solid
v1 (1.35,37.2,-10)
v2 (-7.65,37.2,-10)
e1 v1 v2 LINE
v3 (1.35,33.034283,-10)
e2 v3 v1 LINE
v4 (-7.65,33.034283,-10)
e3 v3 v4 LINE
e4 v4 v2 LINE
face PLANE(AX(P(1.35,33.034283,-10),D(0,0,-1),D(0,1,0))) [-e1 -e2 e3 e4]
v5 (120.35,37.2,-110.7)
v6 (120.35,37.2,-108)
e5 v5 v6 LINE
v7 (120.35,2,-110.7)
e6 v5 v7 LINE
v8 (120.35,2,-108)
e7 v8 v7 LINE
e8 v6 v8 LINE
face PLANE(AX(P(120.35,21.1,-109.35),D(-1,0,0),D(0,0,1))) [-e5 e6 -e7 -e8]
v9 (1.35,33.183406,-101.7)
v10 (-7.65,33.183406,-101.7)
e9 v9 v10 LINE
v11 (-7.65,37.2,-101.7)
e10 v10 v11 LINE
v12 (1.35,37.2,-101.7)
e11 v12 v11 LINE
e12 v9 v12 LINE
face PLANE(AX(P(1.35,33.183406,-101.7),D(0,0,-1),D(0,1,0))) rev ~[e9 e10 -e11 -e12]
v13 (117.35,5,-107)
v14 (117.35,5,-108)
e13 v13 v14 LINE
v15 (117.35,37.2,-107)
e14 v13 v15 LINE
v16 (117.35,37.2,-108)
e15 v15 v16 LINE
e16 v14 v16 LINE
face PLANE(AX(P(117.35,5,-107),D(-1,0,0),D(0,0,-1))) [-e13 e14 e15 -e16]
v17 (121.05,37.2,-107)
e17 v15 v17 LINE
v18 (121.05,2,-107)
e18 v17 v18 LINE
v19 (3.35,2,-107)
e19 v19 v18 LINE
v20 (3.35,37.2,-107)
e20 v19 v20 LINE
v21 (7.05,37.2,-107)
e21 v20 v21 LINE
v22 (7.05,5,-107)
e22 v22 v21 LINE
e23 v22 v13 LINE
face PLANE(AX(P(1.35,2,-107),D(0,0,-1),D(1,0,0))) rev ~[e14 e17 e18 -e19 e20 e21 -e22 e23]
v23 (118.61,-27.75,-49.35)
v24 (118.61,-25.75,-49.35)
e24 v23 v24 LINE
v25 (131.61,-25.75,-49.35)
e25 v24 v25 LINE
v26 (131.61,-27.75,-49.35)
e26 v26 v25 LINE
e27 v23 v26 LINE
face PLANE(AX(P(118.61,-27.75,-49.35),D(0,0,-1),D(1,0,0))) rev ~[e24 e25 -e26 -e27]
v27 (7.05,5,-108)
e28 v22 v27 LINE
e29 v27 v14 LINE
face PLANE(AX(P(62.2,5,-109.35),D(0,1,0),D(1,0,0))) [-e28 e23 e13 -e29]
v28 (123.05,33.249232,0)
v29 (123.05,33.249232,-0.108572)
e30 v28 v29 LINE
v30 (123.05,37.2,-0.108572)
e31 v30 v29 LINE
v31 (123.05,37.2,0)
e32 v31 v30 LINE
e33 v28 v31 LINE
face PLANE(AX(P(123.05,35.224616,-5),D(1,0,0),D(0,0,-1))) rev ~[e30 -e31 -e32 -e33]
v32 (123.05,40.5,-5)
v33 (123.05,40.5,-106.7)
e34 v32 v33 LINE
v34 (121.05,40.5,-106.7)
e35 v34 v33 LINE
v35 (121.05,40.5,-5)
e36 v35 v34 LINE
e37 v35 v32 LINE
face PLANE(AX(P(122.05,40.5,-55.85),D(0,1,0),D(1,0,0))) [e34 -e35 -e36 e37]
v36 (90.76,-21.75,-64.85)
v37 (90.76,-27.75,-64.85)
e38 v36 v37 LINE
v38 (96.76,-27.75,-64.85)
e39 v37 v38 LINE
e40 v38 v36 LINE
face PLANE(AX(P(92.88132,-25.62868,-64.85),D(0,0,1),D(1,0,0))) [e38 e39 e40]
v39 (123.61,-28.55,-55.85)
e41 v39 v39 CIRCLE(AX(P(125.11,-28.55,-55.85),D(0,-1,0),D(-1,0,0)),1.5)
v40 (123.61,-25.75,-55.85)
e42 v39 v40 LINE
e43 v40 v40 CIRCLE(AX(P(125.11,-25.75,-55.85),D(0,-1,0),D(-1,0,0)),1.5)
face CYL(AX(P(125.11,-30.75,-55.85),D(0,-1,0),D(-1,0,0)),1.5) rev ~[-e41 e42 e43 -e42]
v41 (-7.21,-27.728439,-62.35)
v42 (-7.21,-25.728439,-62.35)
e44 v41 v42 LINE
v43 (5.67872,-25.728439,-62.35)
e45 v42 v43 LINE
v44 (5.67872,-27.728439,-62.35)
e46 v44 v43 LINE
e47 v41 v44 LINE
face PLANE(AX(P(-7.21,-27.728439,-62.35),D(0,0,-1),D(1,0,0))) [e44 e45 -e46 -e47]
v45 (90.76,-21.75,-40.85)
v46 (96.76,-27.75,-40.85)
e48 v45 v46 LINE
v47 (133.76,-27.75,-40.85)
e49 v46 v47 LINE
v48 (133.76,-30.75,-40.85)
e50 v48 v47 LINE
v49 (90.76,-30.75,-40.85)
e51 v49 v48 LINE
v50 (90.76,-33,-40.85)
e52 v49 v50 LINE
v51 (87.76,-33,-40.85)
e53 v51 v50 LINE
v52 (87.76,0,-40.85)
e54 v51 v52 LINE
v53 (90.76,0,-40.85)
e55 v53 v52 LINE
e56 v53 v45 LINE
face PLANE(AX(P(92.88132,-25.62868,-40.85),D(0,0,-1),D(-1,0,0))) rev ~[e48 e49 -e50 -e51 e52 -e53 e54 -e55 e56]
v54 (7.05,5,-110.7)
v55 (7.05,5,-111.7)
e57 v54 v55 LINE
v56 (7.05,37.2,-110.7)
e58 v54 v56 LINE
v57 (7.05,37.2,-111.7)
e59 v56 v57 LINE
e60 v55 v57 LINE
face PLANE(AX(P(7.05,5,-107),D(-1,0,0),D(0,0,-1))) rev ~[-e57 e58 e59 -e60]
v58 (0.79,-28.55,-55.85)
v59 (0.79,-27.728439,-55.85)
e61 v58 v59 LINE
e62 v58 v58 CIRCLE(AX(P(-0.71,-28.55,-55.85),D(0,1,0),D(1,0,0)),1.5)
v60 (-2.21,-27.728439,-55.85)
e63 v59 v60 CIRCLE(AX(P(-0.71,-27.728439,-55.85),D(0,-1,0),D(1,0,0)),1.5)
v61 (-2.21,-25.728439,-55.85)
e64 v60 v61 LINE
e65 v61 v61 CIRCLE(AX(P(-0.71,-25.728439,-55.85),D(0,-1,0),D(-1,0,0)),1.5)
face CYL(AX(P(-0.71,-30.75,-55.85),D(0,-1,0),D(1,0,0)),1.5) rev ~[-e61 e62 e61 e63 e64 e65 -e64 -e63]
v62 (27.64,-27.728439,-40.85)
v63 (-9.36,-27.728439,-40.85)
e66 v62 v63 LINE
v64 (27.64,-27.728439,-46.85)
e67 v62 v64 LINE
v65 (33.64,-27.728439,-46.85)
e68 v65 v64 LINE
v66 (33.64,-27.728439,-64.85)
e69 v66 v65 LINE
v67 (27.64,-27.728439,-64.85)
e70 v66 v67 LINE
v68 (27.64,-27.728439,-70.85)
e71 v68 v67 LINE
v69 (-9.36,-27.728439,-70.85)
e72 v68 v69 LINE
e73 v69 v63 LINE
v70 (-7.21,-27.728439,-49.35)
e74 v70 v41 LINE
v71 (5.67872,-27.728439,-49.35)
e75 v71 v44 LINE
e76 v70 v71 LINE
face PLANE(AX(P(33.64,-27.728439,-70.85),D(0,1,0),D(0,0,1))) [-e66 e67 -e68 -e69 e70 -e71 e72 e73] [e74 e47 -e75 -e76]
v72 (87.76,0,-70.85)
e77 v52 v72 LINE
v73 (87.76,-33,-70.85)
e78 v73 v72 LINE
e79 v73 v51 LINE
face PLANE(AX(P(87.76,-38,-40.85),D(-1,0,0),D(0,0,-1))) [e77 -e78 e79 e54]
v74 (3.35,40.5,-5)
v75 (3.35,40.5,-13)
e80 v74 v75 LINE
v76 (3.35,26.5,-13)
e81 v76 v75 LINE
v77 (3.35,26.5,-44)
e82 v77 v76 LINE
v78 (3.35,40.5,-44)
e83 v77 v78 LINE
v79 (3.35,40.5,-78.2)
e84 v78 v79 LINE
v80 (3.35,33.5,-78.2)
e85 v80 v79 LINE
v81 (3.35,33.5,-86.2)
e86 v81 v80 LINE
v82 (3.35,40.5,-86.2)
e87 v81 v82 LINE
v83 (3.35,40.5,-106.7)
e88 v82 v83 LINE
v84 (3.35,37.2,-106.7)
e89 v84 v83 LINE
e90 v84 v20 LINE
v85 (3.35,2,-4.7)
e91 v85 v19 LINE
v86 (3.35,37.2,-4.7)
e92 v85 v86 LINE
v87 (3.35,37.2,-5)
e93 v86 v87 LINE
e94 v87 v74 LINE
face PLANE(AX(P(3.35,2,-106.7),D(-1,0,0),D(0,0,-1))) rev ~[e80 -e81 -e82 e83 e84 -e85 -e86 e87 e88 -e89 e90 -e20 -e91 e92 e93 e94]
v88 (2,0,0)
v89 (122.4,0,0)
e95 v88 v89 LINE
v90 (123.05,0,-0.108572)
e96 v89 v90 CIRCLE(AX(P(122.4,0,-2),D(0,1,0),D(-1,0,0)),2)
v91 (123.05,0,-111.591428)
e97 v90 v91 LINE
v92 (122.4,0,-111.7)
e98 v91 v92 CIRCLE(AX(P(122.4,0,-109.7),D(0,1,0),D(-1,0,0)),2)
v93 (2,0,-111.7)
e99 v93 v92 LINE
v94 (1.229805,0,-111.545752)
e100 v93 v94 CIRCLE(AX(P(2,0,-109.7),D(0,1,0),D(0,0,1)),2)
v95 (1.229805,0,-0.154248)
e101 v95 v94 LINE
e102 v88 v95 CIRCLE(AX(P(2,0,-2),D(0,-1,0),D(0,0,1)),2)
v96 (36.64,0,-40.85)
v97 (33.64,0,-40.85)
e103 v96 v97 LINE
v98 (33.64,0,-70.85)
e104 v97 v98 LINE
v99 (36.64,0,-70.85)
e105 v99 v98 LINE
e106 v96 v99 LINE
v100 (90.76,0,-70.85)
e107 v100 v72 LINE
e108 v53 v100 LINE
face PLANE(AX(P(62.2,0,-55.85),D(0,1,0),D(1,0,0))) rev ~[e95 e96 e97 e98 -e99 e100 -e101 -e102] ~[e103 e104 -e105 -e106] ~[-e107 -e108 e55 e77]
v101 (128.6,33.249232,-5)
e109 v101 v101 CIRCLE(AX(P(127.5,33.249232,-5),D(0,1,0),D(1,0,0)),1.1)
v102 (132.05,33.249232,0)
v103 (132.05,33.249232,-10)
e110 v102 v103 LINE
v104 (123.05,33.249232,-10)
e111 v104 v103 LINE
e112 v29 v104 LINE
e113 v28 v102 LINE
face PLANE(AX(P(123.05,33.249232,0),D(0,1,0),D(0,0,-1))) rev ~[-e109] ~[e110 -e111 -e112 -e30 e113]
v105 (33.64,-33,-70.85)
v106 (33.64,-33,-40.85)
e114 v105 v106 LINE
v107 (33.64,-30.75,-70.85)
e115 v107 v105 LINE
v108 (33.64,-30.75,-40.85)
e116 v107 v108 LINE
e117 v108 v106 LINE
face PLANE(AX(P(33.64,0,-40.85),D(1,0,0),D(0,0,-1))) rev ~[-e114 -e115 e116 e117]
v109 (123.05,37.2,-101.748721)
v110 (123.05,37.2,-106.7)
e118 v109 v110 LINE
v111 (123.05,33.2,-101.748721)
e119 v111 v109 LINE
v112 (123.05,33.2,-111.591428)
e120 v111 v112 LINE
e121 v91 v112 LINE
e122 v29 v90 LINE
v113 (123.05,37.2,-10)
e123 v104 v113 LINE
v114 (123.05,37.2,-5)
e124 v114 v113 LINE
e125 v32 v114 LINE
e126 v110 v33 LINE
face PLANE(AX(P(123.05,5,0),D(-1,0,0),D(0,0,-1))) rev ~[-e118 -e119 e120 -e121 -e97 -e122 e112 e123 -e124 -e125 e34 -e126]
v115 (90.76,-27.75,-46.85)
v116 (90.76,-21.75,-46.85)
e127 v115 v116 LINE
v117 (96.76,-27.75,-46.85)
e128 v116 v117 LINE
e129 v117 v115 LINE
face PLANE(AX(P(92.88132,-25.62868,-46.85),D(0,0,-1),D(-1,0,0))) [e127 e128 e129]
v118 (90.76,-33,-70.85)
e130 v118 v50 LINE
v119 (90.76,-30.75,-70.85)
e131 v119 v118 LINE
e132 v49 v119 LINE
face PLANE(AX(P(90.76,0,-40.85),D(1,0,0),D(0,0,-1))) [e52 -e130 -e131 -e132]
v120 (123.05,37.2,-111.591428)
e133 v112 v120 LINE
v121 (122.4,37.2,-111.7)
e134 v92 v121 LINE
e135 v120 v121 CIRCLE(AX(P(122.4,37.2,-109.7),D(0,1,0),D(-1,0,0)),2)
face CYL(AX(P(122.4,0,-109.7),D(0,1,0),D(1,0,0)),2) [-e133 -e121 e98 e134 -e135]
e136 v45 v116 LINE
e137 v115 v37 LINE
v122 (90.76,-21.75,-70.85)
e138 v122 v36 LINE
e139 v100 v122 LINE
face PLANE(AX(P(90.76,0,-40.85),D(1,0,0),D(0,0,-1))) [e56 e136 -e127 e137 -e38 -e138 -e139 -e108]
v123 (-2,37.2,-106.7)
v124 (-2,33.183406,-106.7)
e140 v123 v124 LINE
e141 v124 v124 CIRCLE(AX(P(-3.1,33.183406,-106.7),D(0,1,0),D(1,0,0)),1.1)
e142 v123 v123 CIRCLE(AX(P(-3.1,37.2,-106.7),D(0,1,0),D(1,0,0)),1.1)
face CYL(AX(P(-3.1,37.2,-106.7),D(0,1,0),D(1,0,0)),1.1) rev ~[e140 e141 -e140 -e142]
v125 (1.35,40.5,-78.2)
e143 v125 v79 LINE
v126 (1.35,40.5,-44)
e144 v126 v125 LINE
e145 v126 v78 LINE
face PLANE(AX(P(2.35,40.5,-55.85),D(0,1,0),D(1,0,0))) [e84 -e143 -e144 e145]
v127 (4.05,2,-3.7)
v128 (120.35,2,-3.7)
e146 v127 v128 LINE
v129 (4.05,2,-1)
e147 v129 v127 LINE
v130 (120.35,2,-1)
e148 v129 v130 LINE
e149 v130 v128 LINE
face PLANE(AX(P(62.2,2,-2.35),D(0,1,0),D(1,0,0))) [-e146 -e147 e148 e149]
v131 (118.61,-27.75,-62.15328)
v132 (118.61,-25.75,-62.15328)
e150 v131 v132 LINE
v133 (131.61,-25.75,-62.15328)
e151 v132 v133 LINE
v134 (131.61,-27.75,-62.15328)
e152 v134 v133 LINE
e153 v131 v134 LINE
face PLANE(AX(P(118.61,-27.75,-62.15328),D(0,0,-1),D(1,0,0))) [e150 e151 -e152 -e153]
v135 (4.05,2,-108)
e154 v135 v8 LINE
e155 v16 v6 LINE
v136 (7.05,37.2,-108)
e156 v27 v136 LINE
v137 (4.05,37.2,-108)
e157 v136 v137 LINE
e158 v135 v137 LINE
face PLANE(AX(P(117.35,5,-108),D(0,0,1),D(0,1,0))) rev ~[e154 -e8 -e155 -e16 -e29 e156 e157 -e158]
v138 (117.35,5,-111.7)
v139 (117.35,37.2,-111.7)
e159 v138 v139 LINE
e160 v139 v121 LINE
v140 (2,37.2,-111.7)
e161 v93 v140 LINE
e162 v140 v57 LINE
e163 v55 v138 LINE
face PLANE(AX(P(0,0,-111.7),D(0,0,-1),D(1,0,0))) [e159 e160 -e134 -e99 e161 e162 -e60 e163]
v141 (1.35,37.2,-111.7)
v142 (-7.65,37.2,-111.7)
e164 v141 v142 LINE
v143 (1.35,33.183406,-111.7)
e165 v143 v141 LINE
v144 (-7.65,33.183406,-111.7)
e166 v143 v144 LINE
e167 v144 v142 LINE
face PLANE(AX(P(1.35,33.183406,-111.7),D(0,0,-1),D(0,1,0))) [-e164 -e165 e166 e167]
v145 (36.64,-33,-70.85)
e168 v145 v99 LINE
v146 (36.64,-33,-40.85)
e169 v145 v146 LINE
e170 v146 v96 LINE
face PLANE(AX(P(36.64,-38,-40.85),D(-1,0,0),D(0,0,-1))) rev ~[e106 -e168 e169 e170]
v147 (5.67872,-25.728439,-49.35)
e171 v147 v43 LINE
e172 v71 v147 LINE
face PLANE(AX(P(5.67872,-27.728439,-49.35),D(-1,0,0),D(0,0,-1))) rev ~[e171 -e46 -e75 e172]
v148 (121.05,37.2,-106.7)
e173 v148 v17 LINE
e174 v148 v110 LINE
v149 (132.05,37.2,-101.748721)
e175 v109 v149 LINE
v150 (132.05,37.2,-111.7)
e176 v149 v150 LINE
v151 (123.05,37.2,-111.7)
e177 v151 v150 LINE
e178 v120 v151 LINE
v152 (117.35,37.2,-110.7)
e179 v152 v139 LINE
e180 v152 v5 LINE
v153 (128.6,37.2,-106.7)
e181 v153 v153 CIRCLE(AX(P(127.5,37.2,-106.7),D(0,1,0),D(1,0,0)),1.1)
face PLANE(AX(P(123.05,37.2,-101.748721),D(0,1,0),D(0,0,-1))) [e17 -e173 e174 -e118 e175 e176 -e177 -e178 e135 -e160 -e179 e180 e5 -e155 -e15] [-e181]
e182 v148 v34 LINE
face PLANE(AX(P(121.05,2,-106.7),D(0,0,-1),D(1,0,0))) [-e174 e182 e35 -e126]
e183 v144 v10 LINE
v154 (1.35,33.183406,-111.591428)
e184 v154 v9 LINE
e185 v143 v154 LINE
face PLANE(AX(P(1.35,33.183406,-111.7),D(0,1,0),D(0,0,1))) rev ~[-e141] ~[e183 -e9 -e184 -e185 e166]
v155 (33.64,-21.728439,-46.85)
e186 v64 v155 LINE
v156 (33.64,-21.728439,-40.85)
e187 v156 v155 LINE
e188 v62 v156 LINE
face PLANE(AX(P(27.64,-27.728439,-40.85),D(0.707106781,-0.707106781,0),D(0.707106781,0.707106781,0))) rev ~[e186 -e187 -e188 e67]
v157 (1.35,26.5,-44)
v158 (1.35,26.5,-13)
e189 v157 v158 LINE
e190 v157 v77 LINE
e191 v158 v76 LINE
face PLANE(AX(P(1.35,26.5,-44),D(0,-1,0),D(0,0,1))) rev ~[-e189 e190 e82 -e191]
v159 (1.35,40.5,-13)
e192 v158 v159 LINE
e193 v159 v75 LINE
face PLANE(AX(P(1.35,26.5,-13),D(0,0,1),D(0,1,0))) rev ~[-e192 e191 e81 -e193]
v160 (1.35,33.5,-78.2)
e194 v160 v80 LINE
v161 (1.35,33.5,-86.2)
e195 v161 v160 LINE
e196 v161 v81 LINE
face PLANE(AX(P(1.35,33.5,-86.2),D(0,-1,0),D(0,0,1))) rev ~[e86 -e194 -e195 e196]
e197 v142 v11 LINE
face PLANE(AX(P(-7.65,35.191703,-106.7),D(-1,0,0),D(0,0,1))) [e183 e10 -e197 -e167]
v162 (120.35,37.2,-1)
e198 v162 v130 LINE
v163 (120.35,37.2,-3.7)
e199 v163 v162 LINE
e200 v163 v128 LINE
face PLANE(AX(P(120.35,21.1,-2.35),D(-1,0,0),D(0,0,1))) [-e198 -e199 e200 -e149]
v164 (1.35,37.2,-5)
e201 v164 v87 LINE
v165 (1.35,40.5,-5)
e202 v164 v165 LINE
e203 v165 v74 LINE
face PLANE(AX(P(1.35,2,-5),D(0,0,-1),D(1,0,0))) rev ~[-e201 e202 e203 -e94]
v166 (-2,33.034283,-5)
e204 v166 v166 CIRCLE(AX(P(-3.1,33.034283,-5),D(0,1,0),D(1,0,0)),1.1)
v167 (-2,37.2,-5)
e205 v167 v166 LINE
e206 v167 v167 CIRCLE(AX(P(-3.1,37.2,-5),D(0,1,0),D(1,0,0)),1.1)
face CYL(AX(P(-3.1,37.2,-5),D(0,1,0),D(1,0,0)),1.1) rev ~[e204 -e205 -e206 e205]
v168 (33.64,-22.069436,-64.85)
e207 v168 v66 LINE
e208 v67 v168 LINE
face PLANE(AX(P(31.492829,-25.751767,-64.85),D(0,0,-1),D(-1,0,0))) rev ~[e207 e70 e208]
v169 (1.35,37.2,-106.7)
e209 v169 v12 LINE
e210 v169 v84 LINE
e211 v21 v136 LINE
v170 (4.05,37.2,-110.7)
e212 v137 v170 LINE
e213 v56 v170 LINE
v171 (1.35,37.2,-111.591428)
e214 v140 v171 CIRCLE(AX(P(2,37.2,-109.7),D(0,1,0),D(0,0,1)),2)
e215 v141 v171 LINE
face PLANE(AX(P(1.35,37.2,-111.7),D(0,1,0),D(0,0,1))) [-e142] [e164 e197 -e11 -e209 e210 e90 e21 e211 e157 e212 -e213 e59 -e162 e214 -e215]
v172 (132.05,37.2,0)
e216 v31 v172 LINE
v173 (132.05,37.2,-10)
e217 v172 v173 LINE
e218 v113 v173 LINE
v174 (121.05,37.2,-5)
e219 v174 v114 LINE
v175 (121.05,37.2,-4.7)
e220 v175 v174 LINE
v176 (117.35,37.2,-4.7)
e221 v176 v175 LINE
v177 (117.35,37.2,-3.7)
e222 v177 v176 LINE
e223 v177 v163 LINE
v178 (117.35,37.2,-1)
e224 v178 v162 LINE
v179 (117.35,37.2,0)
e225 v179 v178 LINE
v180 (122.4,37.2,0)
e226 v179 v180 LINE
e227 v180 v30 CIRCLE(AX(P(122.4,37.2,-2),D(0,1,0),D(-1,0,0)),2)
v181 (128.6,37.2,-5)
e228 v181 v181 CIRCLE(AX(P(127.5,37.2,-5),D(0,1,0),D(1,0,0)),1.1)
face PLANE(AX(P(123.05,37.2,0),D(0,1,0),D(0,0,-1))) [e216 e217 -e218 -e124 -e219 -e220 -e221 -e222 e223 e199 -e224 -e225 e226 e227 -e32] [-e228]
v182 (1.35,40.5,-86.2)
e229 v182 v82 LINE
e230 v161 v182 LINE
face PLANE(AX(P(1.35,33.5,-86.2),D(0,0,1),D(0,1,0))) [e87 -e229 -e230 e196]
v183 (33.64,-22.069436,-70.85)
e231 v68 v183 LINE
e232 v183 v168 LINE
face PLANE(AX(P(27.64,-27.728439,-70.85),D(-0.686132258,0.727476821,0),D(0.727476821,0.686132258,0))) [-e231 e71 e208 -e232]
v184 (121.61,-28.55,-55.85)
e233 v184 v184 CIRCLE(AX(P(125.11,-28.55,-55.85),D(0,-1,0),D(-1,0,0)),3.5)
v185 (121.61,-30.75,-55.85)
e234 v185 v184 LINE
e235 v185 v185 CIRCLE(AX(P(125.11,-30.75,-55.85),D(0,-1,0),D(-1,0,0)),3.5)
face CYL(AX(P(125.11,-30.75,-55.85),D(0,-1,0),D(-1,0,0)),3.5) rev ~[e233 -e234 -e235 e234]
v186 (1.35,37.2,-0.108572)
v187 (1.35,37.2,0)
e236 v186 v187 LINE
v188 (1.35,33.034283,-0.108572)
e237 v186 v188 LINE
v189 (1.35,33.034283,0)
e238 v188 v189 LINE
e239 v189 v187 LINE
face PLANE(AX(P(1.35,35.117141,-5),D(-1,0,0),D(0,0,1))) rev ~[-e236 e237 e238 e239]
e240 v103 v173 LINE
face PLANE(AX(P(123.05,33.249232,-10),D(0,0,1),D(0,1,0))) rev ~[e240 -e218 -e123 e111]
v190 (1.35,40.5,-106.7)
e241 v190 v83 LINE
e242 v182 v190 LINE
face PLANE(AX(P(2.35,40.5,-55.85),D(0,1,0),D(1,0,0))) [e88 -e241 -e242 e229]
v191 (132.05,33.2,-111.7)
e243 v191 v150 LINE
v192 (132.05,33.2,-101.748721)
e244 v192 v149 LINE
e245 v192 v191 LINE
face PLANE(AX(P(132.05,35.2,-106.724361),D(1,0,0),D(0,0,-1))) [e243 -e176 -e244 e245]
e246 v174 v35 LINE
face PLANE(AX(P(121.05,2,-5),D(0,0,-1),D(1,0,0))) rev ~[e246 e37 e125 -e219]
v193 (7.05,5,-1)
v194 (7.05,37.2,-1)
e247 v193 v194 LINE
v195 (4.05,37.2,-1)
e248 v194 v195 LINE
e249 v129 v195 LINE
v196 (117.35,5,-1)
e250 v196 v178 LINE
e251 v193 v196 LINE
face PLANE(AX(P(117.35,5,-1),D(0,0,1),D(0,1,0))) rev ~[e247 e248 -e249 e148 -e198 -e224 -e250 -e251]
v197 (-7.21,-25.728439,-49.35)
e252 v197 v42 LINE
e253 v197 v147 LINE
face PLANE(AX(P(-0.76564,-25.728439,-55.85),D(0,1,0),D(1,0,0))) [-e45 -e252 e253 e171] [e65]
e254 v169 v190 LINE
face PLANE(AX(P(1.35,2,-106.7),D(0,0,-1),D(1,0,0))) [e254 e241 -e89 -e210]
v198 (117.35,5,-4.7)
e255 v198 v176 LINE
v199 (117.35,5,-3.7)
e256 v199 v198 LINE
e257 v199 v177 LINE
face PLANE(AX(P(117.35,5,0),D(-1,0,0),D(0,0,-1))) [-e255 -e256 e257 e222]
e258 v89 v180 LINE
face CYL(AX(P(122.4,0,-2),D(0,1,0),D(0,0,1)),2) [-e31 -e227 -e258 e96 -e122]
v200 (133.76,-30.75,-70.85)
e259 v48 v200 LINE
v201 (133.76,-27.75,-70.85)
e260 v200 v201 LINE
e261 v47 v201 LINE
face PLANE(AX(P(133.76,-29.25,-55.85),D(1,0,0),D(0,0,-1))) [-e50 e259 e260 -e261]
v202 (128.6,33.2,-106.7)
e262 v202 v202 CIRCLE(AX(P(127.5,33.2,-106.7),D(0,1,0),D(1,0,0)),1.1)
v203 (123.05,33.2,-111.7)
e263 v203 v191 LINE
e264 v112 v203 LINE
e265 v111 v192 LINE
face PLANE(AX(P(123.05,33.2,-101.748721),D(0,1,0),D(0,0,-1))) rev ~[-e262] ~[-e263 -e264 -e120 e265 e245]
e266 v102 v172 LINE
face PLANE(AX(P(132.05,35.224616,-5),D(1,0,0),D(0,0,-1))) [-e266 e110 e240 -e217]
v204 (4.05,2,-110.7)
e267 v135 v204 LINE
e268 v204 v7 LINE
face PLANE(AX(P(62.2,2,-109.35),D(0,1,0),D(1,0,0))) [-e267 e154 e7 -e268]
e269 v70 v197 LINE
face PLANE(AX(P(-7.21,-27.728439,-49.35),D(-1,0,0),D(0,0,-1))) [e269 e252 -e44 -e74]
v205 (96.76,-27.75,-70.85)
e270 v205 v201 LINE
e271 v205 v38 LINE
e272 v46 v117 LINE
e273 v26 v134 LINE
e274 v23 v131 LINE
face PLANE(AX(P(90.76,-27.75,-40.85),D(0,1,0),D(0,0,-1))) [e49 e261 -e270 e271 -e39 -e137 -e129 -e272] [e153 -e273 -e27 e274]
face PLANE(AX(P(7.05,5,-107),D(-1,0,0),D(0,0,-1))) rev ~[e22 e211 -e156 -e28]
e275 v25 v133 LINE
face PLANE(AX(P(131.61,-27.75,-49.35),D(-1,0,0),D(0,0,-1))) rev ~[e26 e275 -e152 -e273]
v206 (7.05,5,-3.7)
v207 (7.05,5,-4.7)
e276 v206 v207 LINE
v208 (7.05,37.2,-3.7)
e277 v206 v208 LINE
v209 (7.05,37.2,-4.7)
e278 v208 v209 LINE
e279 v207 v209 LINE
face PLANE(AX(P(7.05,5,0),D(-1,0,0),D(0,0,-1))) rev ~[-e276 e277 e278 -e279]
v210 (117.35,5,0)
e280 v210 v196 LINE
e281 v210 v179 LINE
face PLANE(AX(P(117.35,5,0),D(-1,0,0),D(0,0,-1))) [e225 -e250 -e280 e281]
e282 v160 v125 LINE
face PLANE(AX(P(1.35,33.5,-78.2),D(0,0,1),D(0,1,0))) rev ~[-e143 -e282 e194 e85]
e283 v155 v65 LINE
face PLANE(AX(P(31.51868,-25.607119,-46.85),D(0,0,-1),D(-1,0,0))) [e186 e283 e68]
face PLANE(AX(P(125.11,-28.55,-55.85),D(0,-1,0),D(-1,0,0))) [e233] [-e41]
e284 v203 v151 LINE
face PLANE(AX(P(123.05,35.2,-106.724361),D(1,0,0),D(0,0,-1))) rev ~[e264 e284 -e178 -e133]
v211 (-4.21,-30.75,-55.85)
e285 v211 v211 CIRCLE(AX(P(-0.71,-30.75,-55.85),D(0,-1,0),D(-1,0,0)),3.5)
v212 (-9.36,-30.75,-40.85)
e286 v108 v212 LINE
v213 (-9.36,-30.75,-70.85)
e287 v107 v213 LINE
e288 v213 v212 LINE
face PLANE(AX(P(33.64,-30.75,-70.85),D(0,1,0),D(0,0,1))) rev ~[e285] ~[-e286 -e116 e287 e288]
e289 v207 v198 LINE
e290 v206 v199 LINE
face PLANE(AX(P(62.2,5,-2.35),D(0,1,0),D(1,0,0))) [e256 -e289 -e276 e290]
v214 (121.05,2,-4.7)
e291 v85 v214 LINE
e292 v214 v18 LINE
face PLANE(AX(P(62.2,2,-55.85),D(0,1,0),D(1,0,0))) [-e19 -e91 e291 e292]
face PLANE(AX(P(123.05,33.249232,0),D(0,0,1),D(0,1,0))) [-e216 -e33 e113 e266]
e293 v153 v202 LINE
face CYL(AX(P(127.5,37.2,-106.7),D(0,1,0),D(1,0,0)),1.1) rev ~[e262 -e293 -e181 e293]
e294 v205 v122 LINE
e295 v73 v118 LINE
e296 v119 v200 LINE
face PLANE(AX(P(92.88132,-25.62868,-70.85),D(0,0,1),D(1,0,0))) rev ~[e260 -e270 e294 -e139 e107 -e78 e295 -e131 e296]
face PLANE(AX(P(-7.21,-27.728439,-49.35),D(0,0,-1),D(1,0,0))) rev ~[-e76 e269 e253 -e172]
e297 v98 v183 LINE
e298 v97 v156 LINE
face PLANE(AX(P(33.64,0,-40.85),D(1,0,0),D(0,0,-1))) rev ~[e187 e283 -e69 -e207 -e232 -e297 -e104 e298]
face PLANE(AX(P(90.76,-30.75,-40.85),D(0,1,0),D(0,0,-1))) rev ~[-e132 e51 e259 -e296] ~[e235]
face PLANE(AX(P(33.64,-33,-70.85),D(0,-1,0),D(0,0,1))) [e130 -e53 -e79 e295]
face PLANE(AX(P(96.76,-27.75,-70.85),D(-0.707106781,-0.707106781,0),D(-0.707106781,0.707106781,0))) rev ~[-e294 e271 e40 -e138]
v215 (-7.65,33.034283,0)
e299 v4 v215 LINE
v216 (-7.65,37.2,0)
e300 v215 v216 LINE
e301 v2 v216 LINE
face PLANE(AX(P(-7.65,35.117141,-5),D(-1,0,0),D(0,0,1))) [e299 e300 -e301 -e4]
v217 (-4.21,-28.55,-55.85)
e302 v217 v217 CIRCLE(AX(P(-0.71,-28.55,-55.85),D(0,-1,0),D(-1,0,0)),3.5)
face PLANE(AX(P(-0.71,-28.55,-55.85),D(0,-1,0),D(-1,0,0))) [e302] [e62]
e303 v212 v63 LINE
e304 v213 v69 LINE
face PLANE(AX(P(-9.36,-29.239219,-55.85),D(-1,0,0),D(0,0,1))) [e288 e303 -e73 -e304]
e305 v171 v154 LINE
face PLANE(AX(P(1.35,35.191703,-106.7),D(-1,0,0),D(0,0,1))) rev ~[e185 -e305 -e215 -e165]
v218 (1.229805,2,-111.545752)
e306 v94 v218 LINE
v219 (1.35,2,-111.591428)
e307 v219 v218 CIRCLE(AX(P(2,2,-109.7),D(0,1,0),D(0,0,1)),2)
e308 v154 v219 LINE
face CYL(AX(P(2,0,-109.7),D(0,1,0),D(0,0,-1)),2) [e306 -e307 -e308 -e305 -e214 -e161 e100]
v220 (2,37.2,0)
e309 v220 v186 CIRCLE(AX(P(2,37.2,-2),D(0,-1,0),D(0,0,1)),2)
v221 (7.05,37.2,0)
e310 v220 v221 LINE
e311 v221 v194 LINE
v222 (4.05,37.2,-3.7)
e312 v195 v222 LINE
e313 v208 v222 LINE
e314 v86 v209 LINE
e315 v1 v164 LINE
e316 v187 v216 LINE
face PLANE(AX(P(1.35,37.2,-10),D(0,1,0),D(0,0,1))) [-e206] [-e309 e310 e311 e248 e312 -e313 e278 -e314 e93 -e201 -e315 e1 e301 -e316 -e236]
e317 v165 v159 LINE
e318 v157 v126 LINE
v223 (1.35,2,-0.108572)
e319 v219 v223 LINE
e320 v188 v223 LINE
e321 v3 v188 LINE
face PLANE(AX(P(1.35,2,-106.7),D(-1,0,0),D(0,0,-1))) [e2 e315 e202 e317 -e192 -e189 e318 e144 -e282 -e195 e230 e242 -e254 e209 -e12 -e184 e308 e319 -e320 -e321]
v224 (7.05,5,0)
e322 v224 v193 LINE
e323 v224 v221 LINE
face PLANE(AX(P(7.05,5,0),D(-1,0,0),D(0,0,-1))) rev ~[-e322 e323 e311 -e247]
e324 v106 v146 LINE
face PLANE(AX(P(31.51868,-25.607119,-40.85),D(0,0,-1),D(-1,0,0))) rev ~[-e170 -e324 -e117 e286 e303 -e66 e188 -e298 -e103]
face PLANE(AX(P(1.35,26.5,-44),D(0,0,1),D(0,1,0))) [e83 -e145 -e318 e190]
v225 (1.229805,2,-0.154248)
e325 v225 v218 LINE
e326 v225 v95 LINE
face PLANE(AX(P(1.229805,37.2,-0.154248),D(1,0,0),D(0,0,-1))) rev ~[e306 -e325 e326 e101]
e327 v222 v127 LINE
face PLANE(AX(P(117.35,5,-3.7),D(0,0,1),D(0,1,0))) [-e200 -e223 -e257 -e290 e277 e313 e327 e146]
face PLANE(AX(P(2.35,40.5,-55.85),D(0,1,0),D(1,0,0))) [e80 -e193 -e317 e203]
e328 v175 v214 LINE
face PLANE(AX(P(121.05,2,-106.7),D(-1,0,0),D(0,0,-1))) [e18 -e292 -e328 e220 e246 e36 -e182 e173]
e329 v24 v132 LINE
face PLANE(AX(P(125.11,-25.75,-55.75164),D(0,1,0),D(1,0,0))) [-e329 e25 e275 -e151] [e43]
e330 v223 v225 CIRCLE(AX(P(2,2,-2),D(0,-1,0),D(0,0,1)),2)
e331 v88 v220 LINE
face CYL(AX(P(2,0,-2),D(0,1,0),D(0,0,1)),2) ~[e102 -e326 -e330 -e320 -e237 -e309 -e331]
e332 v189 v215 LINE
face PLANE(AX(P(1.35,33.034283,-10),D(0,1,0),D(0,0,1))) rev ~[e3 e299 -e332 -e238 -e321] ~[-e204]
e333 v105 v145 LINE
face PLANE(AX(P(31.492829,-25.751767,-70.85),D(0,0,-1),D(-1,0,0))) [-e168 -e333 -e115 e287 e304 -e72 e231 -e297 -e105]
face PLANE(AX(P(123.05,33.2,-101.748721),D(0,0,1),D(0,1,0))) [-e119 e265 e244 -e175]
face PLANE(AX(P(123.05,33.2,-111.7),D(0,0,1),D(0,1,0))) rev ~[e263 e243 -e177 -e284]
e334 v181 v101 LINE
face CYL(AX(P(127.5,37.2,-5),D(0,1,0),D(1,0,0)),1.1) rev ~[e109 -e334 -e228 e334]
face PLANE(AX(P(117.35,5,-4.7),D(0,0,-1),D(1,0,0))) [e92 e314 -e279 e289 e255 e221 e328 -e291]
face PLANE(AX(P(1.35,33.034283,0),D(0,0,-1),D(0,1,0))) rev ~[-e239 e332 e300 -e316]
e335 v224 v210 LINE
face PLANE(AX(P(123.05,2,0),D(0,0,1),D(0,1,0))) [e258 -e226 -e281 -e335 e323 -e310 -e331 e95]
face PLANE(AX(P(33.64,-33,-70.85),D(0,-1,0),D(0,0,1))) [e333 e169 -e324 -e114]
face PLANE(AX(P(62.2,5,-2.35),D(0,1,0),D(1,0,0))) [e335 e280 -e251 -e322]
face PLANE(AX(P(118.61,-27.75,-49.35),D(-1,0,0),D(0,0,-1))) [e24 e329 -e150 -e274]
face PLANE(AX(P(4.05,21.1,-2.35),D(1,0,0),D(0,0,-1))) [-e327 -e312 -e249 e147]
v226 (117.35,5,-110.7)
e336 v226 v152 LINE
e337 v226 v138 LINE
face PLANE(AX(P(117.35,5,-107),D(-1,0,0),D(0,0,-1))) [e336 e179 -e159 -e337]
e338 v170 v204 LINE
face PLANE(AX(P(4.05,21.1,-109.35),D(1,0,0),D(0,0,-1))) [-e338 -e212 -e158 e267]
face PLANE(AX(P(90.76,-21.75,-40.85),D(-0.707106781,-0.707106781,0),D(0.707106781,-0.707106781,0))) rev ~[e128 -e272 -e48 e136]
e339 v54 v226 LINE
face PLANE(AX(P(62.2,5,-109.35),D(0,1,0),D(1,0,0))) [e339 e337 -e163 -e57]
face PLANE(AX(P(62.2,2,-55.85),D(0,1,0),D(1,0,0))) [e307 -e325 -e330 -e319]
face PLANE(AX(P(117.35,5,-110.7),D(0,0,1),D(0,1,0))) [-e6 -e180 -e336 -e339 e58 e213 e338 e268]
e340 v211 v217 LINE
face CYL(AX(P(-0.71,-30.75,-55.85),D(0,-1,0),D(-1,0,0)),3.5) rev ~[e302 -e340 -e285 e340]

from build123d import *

# Parameters (mm, degrees)
SKETCH1_W            = 124.4
SKETCH1_H            = 111.7
BOSS_EXTRUDE1_DEPTH  = 2
SKETCH2_W            = 2
SKETCH2_H            = 101.7
BOSS_EXTRUDE2_DEPTH  = 38.5
SKETCH3_W            = 121.7
SKETCH3_H            = 4.7
BOSS_EXTRUDE3_DEPTH  = 3
SKETCH5_W            = 116.3
SKETCH5_H            = 2.7
CUT_EXTRUDE8_DEPTH   = 3
SKETCH14_W           = 121.7
SKETCH14_H           = 4.7
BOSS_EXTRUDE6_DEPTH  = 3
SKETCH15_W           = 116.3
SKETCH15_H           = 2.7
CUT_EXTRUDE14_DEPTH  = 3
SKETCH18_W           = 2
SKETCH18_H           = 0.3
BOSS_EXTRUDE7_DEPTH  = 35.2
SKETCH19_W           = 5.7
SKETCH19_H           = 4.7
BOSS_EXTRUDE8_DEPTH  = 32.2
SKETCH20_W           = 2.7
SKETCH20_H           = 32.2
CUT_EXTRUDE15_DEPTH  = 3
SKETCH21_W           = 2.7
SKETCH21_H           = 32.2
CUT_EXTRUDE16_DEPTH  = 3
SKETCH24_W           = 2.7
SKETCH24_H           = 32.2
CUT_EXTRUDE18_DEPTH  = 3
SKETCH25_W           = 2.7
SKETCH25_H           = 32.2
CUT_EXTRUDE19_DEPTH  = 3
SKETCH30_W           = 31
SKETCH30_H           = 14
SKETCH30_W_2         = 8
SKETCH30_H_2         = 7
CUT_EXTRUDE23_DEPTH  = 2
SKETCH31_W           = 6
SKETCH31_H           = 36.2
BOSS_EXTRUDE9_DEPTH  = 1.35
FILLET1_R            = 2
SKETCH33_W           = 99.7
SKETCH33_H           = 3
BOSS_EXTRUDE11_DEPTH = 1.35
SKETCH43_W           = 1.229805297
SKETCH43_H           = 112.077966817
CUT_EXTRUDE25_DEPTH  = 38.2
SKETCH47_W           = 57.12
SKETCH47_H           = 30
BOSS_EXTRUDE22_DEPTH = 38
SKETCH49_W           = 51.12
SKETCH49_H           = 30
CUT_EXTRUDE30_DEPTH  = 38
SKETCH51_W           = 2.352063359
SKETCH51_H           = 112.382279656
CUT_EXTRUDE33_DEPTH  = 77.2
SKETCH54_W           = 10
SKETCH54_H           = 4.16571725
SKETCH54_H_2         = 4.016594053
BOSS_EXTRUDE23_DEPTH = 9
SKETCH55_W           = 10
SKETCH55_H           = 3.950767522
SKETCH55_W_2         = 9.95127899
SKETCH55_H_2         = 4
BOSS_EXTRUDE24_DEPTH = 9
SKETCH56_R           = 1.1
CUT_EXTRUDE34_DEPTH  = 10
SKETCH57_R           = 1
CUT_EXTRUDE35_DEPTH  = 99.41
SKETCH58_W           = 30
SKETCH58_H           = 3
BOSS_EXTRUDE25_DEPTH = 43
SKETCH59_W           = 30
SKETCH59_H           = 3.021561104
BOSS_EXTRUDE26_DEPTH = 43
BOSS_EXTRUDE28_DEPTH = 6
BOSS_EXTRUDE29_DEPTH = 6
BOSS_EXTRUDE30_DEPTH = 6
BOSS_EXTRUDE31_DEPTH = 6
SKETCH64_W           = 30
SKETCH64_H           = 6.546083461
CUT_EXTRUDE36_DEPTH  = 101.12
SKETCH65_R           = 1.5
CUT_EXTRUDE37_DEPTH  = 6
SKETCH67_R           = 1.5
CUT_EXTRUDE39_DEPTH  = 6
SKETCH68_W           = 12.888719924
SKETCH68_H           = 13
BOSS_EXTRUDE32_DEPTH = 2
SKETCH69_W           = 13
SKETCH69_H           = 12.803280229
BOSS_EXTRUDE33_DEPTH = 2
SKETCH70_R           = 1.5
CUT_EXTRUDE40_DEPTH  = 10
SKETCH71_R           = 1.5
CUT_EXTRUDE41_DEPTH  = 10
SKETCH72_R           = 3.5
CUT_EXTRUDE42_DEPTH  = 2.2
SKETCH73_R           = 3.5
CUT_EXTRUDE43_DEPTH  = 2.2


with BuildPart() as part:
    # Sketch1 → Boss-Extrude1 (new body)
    with BuildSketch(Plane(origin=(0, 0, 0), x_dir=(1, 0, 0), z_dir=(0, 1, 0))):
        with Locations((62.2, 55.85)):
            Rectangle(SKETCH1_W, SKETCH1_H)
    extrude(amount=BOSS_EXTRUDE1_DEPTH)

    # Sketch2 → Boss-Extrude2 (add)
    with BuildSketch(Plane(origin=(0, 2, 0), x_dir=(1, 0, 0), z_dir=(0, 1, 0))):
        with Locations((122.05, 55.85)):
            Rectangle(SKETCH2_W, SKETCH2_H)
        with Locations((2.35, 55.85)):
            Rectangle(SKETCH2_W, SKETCH2_H)
    extrude(amount=BOSS_EXTRUDE2_DEPTH)

    # Sketch3 → Boss-Extrude3 (add)
    with BuildSketch(Plane(origin=(0, 2, 0), x_dir=(1, 0, 0), z_dir=(0, 1, 0))):
        with Locations((62.2, 2.35)):
            Rectangle(SKETCH3_W, SKETCH3_H)
    extrude(amount=BOSS_EXTRUDE3_DEPTH)

    # Sketch5 → Cut-Extrude8 (cut)
    with BuildSketch(Plane(origin=(0, 5, 0), x_dir=(1, 0, 0), z_dir=(0, 1, 0))):
        with Locations((62.2, 2.35)):
            Rectangle(SKETCH5_W, SKETCH5_H)
    extrude(amount=-CUT_EXTRUDE8_DEPTH, mode=Mode.SUBTRACT)

    # Sketch14 → Boss-Extrude6 (add)
    with BuildSketch(Plane(origin=(0, 2, 0), x_dir=(1, 0, 0), z_dir=(0, 1, 0))):
        with Locations((62.2, 109.35)):
            Rectangle(SKETCH14_W, SKETCH14_H)
    extrude(amount=BOSS_EXTRUDE6_DEPTH)

    # Sketch15 → Cut-Extrude14 (cut)
    with BuildSketch(Plane(origin=(0, 5, 0), x_dir=(1, 0, 0), z_dir=(0, 1, 0))):
        with Locations((62.2, 109.35)):
            Rectangle(SKETCH15_W, SKETCH15_H)
    extrude(amount=-CUT_EXTRUDE14_DEPTH, mode=Mode.SUBTRACT)

    # Sketch18 → Boss-Extrude7 (add)
    with BuildSketch(Plane(origin=(0, 2, 0), x_dir=(1, 0, 0), z_dir=(0, 1, 0))):
        with Locations((2.35, 106.85)):
            Rectangle(SKETCH18_W, SKETCH18_H)
        with Locations((122.05, 106.85)):
            Rectangle(SKETCH18_W, SKETCH18_H)
        with Locations((122.05, 4.85)):
            Rectangle(SKETCH18_W, SKETCH18_H)
        with Locations((2.35, 4.85)):
            Rectangle(SKETCH18_W, SKETCH18_H)
    extrude(amount=BOSS_EXTRUDE7_DEPTH)

    # Sketch19 → Boss-Extrude8 (add)
    with BuildSketch(Plane(origin=(0, 5, 0), x_dir=(1, 0, 0), z_dir=(0, 1, 0))):
        with Locations((120.2, 2.35)):
            Rectangle(SKETCH19_W, SKETCH19_H)
        with Locations((4.2, 2.35)):
            Rectangle(SKETCH19_W, SKETCH19_H)
        with Locations((120.2, 109.35)):
            Rectangle(SKETCH19_W, SKETCH19_H)
        with Locations((4.2, 109.35)):
            Rectangle(SKETCH19_W, SKETCH19_H)
    extrude(amount=BOSS_EXTRUDE8_DEPTH)

    # Sketch20 → Cut-Extrude15 (cut)
    with BuildSketch(Plane.ZY.offset(-117.35)):
        with Locations((-109.35, 21.1)):
            Rectangle(SKETCH20_W, SKETCH20_H)
    extrude(amount=-CUT_EXTRUDE15_DEPTH, mode=Mode.SUBTRACT)

    # Sketch21 → Cut-Extrude16 (cut)
    with BuildSketch(Plane(origin=(7.05, 0, 0), x_dir=(0, 0, -1), z_dir=(1, 0, 0))):
        with Locations((109.35, 21.1)):
            Rectangle(SKETCH21_W, SKETCH21_H)
    extrude(amount=-CUT_EXTRUDE16_DEPTH, mode=Mode.SUBTRACT)

    # Sketch24 → Cut-Extrude18 (cut)
    with BuildSketch(Plane(origin=(7.05, 0, 0), x_dir=(0, 0, -1), z_dir=(1, 0, 0))):
        with Locations((2.35, 21.1)):
            Rectangle(SKETCH24_W, SKETCH24_H)
    extrude(amount=-CUT_EXTRUDE18_DEPTH, mode=Mode.SUBTRACT)

    # Sketch25 → Cut-Extrude19 (cut)
    with BuildSketch(Plane.ZY.offset(-117.35)):
        with Locations((-2.35, 21.1)):
            Rectangle(SKETCH25_W, SKETCH25_H)
    extrude(amount=-CUT_EXTRUDE19_DEPTH, mode=Mode.SUBTRACT)

    # Sketch30 → Cut-Extrude23 (cut)
    with BuildSketch(Plane.ZY.offset(-1.35)):
        with Locations((-28.5, 33.5)):
            Rectangle(SKETCH30_W, SKETCH30_H)
        with Locations((-82.2, 37)):
            Rectangle(SKETCH30_W_2, SKETCH30_H_2)
    extrude(amount=-CUT_EXTRUDE23_DEPTH, mode=Mode.SUBTRACT)

    # Sketch31 → Boss-Extrude9 (add)
    with BuildSketch(Plane(origin=(123.05, 0, 0), x_dir=(0, 0, -1), z_dir=(1, 0, 0))):
        with Locations((3, 20.1)):
            Rectangle(SKETCH31_W, SKETCH31_H)
        with Locations((108.7, 20.1)):
            Rectangle(SKETCH31_W, SKETCH31_H)
    extrude(amount=BOSS_EXTRUDE9_DEPTH)

    # Fillet1
    fillet1_edges = [part.edges().sort_by_distance(p)[0] for p in [
        (0, 1, 0),
        (124.4, 19.1, 0),
        (124.4, 19.1, -111.7),
        (0, 1, -111.7),
    ]]
    fillet(fillet1_edges, radius=FILLET1_R)

    # Sketch33 → Boss-Extrude11 (add)
    with BuildSketch(Plane(origin=(123.05, 0, 0), x_dir=(0, 0, -1), z_dir=(1, 0, 0))):
        with Locations((55.85, 3.5)):
            Rectangle(SKETCH33_W, SKETCH33_H)
    extrude(amount=BOSS_EXTRUDE11_DEPTH)

    # Sketch43 → Cut-Extrude25 (cut, through all)
    with BuildSketch(Plane(origin=(0, 37.2, 0), x_dir=(1, 0, 0), z_dir=(0, 1, 0))):
        with Locations((0.614902649, 56.193231497)):
            Rectangle(SKETCH43_W, SKETCH43_H)
    extrude(amount=-CUT_EXTRUDE25_DEPTH, mode=Mode.SUBTRACT)

    # Sketch47 → Boss-Extrude22 (add)
    with BuildSketch(Plane(origin=(0, 0, 0), x_dir=(-1, 0, 0), z_dir=(0, -1, 0))):
        with Locations((-62.2, 55.85)):
            Rectangle(SKETCH47_W, SKETCH47_H)
    extrude(amount=BOSS_EXTRUDE22_DEPTH)

    # Sketch49 → Cut-Extrude30 (cut)
    with BuildSketch(Plane(origin=(0, -38, 0), x_dir=(-1, 0, 0), z_dir=(0, -1, 0))):
        with Locations((-62.2, 55.85)):
            Rectangle(SKETCH49_W, SKETCH49_H)
    extrude(amount=-CUT_EXTRUDE30_DEPTH, mode=Mode.SUBTRACT)

    # Sketch51 → Cut-Extrude33 (cut, through all)
    with BuildSketch(Plane(origin=(0, 38.2, 0), x_dir=(1, 0, 0), z_dir=(0, 1, 0))):
        with Locations((124.22603168, 56.299711796)):
            Rectangle(SKETCH51_W, SKETCH51_H)
    extrude(amount=-CUT_EXTRUDE33_DEPTH, mode=Mode.SUBTRACT)

    # Sketch54 → Boss-Extrude23 (add)
    with BuildSketch(Plane.ZY.offset(-1.35)):
        with Locations((-5, 35.117141375)):
            Rectangle(SKETCH54_W, SKETCH54_H)
        with Locations((-106.7, 35.191702973)):
            Rectangle(SKETCH54_W, SKETCH54_H_2)
    extrude(amount=BOSS_EXTRUDE23_DEPTH)

    # Sketch55 → Boss-Extrude24 (add)
    with BuildSketch(Plane(origin=(123.05, 0, 0), x_dir=(0, 0, -1), z_dir=(1, 0, 0))):
        with Locations((5, 35.224616239)):
            Rectangle(SKETCH55_W, SKETCH55_H)
        with Locations((106.724360505, 35.2)):
            Rectangle(SKETCH55_W_2, SKETCH55_H_2)
    extrude(amount=BOSS_EXTRUDE24_DEPTH)

    # Sketch56 → Cut-Extrude34 (cut)
    with BuildSketch(Plane(origin=(0, 37.2, 0), x_dir=(1, 0, 0), z_dir=(0, 1, 0))):
        with Locations((-3.1, 106.7)):
            Circle(SKETCH56_R)
        with Locations((127.5, 106.7)):
            Circle(SKETCH56_R)
        with Locations((127.5, 5)):
            Circle(SKETCH56_R)
        with Locations((-3.1, 5)):
            Circle(SKETCH56_R)
    extrude(amount=-CUT_EXTRUDE34_DEPTH, mode=Mode.SUBTRACT)

    # Sketch57 → Cut-Extrude35 (cut, through all)
    with BuildSketch(Plane(origin=(90.76, 0, 0), x_dir=(0, 0, -1), z_dir=(1, 0, 0))):
        with Locations((45.85, -34)):
            Circle(SKETCH57_R)
        with Locations((65.85, -34)):
            Circle(SKETCH57_R)
    extrude(amount=-CUT_EXTRUDE35_DEPTH, mode=Mode.SUBTRACT)

    # Sketch58 → Boss-Extrude25 (add)
    with BuildSketch(Plane(origin=(90.76, 0, 0), x_dir=(0, 0, -1), z_dir=(1, 0, 0))):
        with Locations((55.85, -29.25)):
            Rectangle(SKETCH58_W, SKETCH58_H)
    extrude(amount=BOSS_EXTRUDE25_DEPTH)

    # Sketch59 → Boss-Extrude26 (add)
    with BuildSketch(Plane.ZY.offset(-33.64)):
        with Locations((-55.85, -29.239219448)):
            Rectangle(SKETCH59_W, SKETCH59_H)
    extrude(amount=BOSS_EXTRUDE26_DEPTH)

    # Sketch61 → Boss-Extrude28 (add)
    with BuildSketch(Plane.XY.offset(-40.85)):
        Polygon((90.76, -21.75), (96.76, -27.75), (90.76, -27.75), align=None)
    extrude(amount=-BOSS_EXTRUDE28_DEPTH)

    # Sketch62 → Boss-Extrude29 (add)
    with BuildSketch(Plane(origin=(0, 0, -70.85), x_dir=(-1, 0, 0), z_dir=(0, 0, -1))):
        Polygon((-90.76, -21.75), (-90.76, -27.75), (-96.76, -27.75), align=None)
    extrude(amount=-BOSS_EXTRUDE29_DEPTH)

    # Sketch60 → Boss-Extrude30 (add)
    with BuildSketch(Plane.XY.offset(-40.85)):
        Polygon((27.64, -27.728438896), (33.64, -21.728438896), (33.64, -27.728438896), align=None)
    extrude(amount=-BOSS_EXTRUDE30_DEPTH)

    # Sketch63 → Boss-Extrude31 (add)
    with BuildSketch(Plane(origin=(0, 0, -70.85), x_dir=(-1, 0, 0), z_dir=(0, 0, -1))):
        Polygon((-33.64, -22.069435851), (-33.64, -27.728438896), (-27.64, -27.728438896), align=None)
    extrude(amount=-BOSS_EXTRUDE31_DEPTH)

    # Sketch64 → Cut-Extrude36 (cut, through all)
    with BuildSketch(Plane.ZY.offset(-33.64)):
        with Locations((-55.85, -36.27304173)):
            Rectangle(SKETCH64_W, SKETCH64_H)
    extrude(amount=-CUT_EXTRUDE36_DEPTH, mode=Mode.SUBTRACT)

    # Sketch65 → Cut-Extrude37 (cut)
    with BuildSketch(Plane(origin=(0, -30.75, 0), x_dir=(-1, 0, 0), z_dir=(0, -1, 0))):
        with Locations((-125.11, 55.85)):
            Circle(SKETCH65_R)
    extrude(amount=-CUT_EXTRUDE37_DEPTH, mode=Mode.SUBTRACT)

    # Sketch67 → Cut-Extrude39 (cut)
    with BuildSketch(Plane.XZ.offset(30.75)):
        with Locations((-0.71, -55.85)):
            Circle(SKETCH67_R)
    extrude(amount=-CUT_EXTRUDE39_DEPTH, mode=Mode.SUBTRACT)

    # Sketch68 → Boss-Extrude32 (add)
    with BuildSketch(Plane(origin=(0, -27.728438896, 0), x_dir=(1, 0, 0), z_dir=(0, 1, 0))):
        with Locations((-0.765640038, 55.85)):
            Rectangle(SKETCH68_W, SKETCH68_H)
    extrude(amount=BOSS_EXTRUDE32_DEPTH)

    # Sketch69 → Boss-Extrude33 (add)
    with BuildSketch(Plane(origin=(0, -27.75, 0), x_dir=(1, 0, 0), z_dir=(0, 1, 0))):
        with Locations((125.11, 55.751640115)):
            Rectangle(SKETCH69_W, SKETCH69_H)
    extrude(amount=BOSS_EXTRUDE33_DEPTH)

    # Sketch70 → Cut-Extrude40 (cut)
    with BuildSketch(Plane(origin=(0, -30.75, 0), x_dir=(-1, 0, 0), z_dir=(0, -1, 0))):
        with Locations((-125.11, 55.85)):
            Circle(SKETCH70_R)
    extrude(amount=-CUT_EXTRUDE40_DEPTH, mode=Mode.SUBTRACT)

    # Sketch71 → Cut-Extrude41 (cut)
    with BuildSketch(Plane(origin=(0, -30.75, 0), x_dir=(-1, 0, 0), z_dir=(0, -1, 0))):
        with Locations((0.71, 55.85)):
            Circle(SKETCH71_R)
    extrude(amount=-CUT_EXTRUDE41_DEPTH, mode=Mode.SUBTRACT)

    # Sketch72 → Cut-Extrude42 (cut)
    with BuildSketch(Plane(origin=(0, -30.75, 0), x_dir=(-1, 0, 0), z_dir=(0, -1, 0))):
        with Locations((0.71, 55.85)):
            Circle(SKETCH72_R)
    extrude(amount=-CUT_EXTRUDE42_DEPTH, mode=Mode.SUBTRACT)

    # Sketch73 → Cut-Extrude43 (cut)
    with BuildSketch(Plane(origin=(0, -30.75, 0), x_dir=(-1, 0, 0), z_dir=(0, -1, 0))):
        with Locations((-125.11, 55.85)):
            Circle(SKETCH73_R)
    extrude(amount=-CUT_EXTRUDE43_DEPTH, mode=Mode.SUBTRACT)


solid = part.part
